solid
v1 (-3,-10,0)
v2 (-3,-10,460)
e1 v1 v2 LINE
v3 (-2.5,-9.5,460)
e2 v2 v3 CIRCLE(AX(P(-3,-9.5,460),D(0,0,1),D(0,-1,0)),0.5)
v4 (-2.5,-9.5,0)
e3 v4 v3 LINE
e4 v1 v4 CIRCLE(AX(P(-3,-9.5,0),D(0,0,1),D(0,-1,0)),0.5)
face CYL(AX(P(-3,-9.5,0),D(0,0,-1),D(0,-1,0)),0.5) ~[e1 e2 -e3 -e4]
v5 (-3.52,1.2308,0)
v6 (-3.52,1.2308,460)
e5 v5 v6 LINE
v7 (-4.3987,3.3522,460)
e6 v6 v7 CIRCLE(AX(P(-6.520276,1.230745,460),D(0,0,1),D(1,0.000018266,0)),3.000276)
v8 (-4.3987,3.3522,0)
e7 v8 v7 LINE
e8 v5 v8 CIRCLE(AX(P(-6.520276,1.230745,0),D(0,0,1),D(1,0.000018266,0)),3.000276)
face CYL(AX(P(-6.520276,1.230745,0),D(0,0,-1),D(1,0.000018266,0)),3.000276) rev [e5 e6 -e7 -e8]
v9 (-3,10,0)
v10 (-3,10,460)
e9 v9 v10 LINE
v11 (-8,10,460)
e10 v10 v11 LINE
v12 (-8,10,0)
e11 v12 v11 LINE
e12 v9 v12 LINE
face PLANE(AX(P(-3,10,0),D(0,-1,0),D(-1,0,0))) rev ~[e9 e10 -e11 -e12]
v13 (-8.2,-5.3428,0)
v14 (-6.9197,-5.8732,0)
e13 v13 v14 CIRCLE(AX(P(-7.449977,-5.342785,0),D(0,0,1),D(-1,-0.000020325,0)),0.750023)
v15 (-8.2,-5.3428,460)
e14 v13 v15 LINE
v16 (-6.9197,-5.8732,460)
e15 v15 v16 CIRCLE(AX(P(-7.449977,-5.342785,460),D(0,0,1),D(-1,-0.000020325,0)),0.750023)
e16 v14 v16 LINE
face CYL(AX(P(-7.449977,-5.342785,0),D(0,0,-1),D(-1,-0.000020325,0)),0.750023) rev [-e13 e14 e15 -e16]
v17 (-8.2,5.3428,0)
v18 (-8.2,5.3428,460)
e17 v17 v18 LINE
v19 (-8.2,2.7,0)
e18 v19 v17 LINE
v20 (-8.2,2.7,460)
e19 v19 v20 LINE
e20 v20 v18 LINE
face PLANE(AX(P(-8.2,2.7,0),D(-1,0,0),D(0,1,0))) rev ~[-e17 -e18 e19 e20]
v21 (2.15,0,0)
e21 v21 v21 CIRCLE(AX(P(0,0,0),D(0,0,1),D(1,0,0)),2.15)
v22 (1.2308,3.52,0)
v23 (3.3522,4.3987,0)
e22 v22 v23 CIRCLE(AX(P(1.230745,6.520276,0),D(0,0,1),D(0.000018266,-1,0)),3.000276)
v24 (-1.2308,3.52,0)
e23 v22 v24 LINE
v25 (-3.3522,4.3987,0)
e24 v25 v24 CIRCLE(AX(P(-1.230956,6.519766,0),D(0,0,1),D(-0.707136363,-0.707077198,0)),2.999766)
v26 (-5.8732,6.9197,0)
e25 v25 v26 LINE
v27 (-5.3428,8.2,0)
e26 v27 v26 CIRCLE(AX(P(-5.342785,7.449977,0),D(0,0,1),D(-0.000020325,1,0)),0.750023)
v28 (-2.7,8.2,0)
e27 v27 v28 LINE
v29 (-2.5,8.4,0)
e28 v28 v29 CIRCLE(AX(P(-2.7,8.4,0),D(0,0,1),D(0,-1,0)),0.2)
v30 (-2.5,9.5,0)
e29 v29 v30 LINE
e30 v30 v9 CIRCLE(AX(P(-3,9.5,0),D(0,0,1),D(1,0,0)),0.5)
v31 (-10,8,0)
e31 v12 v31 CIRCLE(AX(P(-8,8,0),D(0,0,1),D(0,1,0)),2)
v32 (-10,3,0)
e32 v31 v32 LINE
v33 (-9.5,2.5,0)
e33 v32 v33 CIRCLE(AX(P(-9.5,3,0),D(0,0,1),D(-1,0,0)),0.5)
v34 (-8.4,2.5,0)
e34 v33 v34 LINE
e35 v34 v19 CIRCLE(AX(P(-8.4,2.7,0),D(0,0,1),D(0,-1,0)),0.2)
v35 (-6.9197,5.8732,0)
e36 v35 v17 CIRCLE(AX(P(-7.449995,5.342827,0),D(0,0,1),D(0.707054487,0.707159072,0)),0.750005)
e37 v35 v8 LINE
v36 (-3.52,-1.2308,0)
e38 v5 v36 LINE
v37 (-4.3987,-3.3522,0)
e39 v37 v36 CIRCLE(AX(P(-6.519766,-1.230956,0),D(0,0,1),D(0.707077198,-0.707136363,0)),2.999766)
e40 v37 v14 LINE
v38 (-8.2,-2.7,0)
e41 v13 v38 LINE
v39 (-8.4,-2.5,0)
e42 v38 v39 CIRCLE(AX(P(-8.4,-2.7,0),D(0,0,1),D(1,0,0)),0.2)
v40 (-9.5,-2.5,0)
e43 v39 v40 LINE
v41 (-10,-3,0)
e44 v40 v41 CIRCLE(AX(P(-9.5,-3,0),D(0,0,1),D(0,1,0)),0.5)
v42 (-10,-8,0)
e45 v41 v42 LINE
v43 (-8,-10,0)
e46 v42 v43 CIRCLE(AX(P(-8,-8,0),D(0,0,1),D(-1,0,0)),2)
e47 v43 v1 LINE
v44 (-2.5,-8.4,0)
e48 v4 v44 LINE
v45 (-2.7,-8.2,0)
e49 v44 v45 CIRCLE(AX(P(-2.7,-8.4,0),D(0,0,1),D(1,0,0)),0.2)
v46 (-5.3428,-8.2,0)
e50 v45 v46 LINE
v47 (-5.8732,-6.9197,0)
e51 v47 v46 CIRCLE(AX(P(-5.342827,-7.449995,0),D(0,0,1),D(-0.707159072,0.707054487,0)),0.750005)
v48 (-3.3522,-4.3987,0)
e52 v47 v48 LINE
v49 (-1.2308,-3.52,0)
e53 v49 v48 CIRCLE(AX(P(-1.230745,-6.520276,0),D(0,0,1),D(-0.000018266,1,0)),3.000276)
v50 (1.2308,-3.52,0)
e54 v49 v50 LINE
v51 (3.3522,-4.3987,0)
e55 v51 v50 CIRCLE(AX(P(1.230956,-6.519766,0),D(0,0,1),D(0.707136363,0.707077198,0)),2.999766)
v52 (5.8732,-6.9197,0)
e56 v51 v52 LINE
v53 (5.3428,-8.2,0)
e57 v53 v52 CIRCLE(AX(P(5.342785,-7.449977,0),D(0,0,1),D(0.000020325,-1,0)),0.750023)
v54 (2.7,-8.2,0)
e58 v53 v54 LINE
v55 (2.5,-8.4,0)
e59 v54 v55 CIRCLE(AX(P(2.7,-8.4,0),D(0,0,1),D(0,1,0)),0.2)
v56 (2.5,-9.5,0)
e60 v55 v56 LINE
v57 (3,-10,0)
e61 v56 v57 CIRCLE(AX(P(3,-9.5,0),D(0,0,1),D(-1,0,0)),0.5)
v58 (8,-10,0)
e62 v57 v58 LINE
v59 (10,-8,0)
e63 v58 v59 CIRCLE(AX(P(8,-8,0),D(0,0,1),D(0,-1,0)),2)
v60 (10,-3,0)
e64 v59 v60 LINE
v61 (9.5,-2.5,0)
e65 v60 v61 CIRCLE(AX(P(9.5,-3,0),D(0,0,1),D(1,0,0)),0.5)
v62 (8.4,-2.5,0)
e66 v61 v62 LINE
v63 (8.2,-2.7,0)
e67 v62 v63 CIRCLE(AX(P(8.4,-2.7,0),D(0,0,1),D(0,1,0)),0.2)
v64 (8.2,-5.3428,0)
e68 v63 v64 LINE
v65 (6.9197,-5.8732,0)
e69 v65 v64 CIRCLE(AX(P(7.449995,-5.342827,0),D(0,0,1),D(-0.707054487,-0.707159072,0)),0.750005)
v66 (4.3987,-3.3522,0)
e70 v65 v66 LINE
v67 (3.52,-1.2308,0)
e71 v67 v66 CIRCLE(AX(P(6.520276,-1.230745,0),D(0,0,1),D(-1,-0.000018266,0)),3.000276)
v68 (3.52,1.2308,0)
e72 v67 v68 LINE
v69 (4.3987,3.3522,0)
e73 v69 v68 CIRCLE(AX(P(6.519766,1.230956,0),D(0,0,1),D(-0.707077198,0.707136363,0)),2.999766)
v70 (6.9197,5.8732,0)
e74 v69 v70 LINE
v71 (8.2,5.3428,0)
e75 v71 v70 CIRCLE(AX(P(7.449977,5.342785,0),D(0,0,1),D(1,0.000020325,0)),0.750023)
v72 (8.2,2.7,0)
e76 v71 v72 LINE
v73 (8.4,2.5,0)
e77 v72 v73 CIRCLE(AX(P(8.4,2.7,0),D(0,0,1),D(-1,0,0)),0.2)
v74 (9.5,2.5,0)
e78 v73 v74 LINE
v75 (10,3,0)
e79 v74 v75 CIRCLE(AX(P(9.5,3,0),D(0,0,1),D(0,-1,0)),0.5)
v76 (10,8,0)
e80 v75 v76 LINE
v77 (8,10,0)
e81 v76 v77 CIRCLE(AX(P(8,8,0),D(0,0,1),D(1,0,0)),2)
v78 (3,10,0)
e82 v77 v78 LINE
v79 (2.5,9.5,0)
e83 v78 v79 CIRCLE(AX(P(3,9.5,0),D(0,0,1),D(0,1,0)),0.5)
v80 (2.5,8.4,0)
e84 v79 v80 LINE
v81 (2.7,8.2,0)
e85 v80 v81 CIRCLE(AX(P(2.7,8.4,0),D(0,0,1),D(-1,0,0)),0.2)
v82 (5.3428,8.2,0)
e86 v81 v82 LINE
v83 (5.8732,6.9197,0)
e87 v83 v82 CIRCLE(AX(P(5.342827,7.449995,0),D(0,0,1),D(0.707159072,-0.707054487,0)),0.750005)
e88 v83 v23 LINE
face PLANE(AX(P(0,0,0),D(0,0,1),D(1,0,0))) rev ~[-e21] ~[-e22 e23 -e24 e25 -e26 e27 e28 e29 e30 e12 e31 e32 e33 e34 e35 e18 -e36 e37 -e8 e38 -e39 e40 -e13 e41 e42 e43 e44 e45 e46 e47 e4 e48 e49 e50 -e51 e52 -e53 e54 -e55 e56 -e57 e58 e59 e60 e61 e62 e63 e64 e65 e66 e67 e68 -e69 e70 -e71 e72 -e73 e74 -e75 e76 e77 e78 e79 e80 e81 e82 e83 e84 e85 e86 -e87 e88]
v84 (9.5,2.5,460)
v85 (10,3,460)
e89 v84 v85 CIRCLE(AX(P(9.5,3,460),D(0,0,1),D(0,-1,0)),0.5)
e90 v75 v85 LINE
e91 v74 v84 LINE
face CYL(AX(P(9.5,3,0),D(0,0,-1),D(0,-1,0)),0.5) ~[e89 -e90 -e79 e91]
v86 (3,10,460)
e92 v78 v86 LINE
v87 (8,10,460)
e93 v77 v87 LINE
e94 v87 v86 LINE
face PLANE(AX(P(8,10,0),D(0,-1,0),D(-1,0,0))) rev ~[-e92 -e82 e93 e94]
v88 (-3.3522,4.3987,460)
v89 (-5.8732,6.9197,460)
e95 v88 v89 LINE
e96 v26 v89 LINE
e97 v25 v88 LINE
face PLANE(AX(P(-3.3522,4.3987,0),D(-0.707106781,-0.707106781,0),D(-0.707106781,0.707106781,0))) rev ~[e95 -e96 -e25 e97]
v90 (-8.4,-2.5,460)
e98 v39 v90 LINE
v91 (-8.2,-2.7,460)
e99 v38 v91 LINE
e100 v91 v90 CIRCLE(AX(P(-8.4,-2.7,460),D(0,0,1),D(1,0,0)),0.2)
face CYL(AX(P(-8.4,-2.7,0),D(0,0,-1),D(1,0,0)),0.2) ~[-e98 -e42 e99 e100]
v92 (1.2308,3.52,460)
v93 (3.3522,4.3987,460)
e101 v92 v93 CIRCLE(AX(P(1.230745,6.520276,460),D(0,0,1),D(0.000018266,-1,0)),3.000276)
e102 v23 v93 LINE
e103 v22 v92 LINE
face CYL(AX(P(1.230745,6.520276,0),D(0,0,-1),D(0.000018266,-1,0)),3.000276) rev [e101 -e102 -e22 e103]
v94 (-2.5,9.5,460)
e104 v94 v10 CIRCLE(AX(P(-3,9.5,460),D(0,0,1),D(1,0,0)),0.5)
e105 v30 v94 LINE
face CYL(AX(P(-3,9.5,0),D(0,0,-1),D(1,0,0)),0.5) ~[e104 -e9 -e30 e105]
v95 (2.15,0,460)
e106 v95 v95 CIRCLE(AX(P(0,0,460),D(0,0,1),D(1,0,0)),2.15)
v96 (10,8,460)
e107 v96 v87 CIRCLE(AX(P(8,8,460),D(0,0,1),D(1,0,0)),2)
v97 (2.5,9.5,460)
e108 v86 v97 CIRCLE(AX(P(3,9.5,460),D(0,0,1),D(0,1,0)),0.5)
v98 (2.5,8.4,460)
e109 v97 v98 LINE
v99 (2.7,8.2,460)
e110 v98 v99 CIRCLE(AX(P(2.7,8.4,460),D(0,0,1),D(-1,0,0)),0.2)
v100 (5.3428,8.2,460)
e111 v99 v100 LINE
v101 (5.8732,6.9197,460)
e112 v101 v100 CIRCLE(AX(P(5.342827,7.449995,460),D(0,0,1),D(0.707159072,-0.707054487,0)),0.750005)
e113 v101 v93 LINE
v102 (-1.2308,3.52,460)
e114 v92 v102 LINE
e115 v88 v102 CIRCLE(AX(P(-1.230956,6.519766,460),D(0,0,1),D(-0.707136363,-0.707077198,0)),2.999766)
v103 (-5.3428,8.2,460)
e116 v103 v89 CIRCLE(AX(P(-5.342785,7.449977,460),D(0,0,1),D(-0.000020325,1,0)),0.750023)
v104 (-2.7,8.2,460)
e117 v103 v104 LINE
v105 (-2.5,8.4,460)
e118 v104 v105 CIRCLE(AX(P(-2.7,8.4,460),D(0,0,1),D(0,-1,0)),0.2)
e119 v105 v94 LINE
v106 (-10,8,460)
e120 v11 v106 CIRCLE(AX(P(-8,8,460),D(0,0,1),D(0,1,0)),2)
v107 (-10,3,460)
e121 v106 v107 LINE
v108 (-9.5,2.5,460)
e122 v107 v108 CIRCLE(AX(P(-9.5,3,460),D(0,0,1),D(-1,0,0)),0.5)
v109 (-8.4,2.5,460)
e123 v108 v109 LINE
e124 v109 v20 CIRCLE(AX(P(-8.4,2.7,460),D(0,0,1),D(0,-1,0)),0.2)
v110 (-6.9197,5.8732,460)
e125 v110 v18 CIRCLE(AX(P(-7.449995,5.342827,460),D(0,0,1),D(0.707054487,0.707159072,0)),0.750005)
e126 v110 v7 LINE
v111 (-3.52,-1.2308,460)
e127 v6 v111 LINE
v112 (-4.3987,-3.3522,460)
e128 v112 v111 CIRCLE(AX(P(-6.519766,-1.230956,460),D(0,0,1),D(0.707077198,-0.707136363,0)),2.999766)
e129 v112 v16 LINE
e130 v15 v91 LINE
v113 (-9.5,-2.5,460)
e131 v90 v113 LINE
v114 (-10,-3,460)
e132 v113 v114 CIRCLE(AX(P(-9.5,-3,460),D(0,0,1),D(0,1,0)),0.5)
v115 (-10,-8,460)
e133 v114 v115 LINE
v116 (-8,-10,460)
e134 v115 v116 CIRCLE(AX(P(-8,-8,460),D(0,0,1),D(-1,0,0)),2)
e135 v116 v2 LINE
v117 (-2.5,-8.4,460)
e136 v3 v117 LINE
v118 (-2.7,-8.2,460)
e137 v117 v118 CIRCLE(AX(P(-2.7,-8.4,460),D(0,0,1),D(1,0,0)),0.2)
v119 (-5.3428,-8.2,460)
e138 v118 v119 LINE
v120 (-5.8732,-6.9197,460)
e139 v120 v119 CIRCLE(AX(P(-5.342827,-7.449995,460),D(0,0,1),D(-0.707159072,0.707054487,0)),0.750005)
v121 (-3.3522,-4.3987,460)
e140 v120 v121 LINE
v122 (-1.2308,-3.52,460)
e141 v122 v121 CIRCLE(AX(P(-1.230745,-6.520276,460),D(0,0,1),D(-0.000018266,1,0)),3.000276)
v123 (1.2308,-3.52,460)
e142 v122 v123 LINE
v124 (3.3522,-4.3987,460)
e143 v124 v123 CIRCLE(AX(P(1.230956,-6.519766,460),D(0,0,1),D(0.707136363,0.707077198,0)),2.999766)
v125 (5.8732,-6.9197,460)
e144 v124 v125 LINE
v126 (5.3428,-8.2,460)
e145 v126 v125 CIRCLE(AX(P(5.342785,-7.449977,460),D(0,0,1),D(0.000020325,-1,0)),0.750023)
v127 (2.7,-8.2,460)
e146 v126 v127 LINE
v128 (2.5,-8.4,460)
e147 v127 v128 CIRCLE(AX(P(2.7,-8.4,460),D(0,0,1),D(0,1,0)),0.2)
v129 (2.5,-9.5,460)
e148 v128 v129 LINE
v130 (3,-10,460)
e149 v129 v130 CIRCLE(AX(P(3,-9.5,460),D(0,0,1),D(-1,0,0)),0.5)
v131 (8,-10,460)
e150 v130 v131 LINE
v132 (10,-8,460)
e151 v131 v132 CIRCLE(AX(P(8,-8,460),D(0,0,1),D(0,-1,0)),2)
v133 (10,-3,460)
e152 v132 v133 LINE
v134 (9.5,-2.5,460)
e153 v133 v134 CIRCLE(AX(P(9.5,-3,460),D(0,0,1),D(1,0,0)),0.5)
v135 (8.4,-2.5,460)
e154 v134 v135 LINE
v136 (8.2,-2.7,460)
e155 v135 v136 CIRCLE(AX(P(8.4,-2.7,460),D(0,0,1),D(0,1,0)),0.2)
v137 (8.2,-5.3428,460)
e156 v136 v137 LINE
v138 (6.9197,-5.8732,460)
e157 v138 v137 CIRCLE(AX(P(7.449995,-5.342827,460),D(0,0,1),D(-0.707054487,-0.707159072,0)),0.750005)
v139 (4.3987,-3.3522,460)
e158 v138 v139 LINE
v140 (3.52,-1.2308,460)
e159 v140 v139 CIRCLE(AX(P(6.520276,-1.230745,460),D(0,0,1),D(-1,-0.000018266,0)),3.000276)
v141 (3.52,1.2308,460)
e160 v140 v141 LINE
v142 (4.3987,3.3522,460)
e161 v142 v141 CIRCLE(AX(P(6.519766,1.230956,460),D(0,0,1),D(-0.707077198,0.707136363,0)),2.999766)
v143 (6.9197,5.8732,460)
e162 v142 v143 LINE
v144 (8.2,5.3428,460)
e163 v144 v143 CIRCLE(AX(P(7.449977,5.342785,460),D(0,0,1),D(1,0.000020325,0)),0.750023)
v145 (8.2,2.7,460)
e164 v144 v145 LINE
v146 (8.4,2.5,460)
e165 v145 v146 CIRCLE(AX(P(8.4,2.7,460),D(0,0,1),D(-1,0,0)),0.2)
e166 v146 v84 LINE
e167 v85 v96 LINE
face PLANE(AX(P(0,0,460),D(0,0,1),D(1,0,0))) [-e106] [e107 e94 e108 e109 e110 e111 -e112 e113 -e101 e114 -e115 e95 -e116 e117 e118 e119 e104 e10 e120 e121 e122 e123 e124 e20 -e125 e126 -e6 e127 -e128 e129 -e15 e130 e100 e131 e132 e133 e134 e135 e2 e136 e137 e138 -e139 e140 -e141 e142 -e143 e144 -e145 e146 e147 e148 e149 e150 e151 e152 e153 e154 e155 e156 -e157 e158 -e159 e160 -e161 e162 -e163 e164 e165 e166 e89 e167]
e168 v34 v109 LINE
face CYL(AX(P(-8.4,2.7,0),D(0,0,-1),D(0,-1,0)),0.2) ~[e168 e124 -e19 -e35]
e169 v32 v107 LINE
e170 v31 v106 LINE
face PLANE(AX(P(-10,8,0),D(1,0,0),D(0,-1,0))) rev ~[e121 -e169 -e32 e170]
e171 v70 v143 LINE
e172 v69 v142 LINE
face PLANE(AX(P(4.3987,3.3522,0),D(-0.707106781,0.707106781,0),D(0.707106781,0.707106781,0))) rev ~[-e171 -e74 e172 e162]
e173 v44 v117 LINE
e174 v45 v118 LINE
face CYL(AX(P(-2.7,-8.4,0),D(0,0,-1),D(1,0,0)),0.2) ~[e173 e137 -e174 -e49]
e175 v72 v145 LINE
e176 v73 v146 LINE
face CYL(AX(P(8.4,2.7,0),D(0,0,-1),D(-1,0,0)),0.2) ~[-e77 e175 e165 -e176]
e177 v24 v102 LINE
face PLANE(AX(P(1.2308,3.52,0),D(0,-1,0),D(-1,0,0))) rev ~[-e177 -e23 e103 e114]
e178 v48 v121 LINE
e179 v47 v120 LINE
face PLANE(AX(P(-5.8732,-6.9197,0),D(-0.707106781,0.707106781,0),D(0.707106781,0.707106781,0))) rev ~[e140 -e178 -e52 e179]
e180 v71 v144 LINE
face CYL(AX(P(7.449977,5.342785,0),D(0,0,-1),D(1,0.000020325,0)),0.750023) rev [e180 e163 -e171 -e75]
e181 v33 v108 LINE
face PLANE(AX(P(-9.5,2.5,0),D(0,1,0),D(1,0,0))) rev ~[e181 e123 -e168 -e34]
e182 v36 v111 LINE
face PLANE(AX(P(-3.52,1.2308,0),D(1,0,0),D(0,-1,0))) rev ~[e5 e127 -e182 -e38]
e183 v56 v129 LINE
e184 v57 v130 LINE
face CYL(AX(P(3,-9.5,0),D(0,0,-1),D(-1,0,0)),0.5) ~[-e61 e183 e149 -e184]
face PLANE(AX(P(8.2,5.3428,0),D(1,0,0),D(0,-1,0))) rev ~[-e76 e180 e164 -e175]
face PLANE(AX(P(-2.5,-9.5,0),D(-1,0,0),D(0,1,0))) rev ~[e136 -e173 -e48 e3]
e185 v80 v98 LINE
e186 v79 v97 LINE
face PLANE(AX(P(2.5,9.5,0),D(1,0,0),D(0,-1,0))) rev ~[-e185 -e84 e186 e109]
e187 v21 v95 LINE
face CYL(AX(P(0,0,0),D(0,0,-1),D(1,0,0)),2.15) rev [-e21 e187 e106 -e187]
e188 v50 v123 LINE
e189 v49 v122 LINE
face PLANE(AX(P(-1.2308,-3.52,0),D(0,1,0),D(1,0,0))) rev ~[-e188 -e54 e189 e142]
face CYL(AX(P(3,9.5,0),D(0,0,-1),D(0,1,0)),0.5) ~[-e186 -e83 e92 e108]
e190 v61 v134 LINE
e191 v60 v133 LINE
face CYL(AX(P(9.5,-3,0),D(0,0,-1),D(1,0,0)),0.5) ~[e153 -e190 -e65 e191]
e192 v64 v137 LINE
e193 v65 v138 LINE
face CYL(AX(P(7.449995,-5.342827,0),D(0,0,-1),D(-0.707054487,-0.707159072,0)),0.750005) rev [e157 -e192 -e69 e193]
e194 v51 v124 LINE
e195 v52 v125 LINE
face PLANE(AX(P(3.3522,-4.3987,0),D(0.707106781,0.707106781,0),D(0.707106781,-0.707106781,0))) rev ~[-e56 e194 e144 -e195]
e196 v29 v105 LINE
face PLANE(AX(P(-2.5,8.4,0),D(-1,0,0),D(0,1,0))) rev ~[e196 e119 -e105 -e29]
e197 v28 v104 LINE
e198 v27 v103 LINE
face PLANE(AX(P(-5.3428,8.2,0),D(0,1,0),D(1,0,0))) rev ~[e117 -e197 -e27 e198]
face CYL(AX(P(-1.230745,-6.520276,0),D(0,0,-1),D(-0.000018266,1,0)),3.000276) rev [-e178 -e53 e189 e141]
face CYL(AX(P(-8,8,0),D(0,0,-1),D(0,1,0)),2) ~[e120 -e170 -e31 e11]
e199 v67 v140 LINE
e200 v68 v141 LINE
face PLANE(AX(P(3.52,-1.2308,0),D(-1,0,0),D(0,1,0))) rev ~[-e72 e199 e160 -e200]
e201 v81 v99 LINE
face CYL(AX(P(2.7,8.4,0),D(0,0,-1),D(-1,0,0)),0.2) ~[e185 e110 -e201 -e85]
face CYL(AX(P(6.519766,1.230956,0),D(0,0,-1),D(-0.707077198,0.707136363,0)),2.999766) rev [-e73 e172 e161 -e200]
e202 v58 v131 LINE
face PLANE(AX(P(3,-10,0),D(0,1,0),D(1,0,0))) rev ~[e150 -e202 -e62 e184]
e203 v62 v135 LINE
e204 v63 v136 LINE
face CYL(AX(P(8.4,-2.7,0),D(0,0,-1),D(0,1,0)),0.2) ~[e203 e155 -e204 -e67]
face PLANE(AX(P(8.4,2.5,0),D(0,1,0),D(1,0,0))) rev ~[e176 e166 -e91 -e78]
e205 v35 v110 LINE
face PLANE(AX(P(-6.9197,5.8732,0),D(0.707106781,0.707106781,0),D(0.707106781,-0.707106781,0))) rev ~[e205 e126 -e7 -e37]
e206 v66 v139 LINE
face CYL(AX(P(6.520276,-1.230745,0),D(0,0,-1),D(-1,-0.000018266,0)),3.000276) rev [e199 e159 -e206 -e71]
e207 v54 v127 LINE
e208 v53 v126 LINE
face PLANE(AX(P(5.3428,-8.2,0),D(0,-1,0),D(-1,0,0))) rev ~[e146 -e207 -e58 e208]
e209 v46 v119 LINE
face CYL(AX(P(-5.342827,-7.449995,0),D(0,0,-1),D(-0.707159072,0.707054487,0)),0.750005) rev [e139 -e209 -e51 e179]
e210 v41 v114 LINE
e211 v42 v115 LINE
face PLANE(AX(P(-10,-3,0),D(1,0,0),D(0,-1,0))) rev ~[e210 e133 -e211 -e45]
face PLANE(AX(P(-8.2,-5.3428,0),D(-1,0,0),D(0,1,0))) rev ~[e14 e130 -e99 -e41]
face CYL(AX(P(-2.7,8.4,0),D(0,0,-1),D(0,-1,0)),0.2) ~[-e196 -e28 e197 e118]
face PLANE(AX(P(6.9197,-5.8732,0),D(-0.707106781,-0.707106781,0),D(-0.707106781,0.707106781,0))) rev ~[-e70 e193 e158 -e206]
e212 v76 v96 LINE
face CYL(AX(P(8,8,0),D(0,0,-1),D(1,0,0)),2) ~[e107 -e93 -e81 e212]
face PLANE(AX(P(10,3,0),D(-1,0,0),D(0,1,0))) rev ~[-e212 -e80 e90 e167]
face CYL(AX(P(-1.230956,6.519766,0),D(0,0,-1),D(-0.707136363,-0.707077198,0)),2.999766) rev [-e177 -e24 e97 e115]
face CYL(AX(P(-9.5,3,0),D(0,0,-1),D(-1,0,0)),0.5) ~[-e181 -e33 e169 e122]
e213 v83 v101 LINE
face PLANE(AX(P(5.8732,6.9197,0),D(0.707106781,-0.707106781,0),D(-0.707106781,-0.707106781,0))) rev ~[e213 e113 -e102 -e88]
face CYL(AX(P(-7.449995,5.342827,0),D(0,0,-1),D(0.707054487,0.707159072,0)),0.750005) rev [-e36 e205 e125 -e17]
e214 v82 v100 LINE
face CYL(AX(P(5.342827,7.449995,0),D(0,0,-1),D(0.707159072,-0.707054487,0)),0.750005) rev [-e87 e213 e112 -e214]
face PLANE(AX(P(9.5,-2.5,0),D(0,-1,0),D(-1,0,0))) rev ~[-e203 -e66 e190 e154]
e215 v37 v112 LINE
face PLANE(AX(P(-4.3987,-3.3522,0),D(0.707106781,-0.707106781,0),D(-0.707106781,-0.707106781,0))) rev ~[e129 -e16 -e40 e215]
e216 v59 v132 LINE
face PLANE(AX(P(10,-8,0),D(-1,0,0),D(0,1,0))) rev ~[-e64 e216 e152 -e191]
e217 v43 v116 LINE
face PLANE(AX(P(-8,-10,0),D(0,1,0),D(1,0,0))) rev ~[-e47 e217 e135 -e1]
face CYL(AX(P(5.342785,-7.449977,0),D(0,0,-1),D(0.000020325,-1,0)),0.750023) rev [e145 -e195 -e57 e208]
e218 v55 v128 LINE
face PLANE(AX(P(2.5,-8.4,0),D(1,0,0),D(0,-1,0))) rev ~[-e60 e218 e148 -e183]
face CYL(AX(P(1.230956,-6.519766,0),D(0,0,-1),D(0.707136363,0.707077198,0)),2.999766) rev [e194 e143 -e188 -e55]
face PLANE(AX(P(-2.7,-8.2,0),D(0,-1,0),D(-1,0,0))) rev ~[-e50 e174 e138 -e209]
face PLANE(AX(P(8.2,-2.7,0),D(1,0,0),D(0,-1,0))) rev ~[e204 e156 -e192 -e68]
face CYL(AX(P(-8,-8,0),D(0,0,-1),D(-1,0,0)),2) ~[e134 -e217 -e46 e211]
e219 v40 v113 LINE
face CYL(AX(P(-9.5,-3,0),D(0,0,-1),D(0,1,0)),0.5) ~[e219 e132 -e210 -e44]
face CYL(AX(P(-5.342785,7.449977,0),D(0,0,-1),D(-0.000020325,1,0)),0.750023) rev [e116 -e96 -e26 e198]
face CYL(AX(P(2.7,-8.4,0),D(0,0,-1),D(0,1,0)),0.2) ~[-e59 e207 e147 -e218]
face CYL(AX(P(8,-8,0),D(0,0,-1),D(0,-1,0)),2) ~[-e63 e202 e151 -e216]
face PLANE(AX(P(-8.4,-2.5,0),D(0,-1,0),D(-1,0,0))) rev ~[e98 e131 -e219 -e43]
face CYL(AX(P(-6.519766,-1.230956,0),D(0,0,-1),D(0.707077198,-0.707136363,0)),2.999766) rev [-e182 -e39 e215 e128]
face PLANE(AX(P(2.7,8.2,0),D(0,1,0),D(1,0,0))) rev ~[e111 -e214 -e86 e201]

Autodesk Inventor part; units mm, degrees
ref_plane "YZ Plane" through (0, 0, 0) normal (1, 0, 0) x (0, 1, 0)
ref_plane "Płaszczyzna początkowa" through (0, 0, 0) normal (0, 0, 1) x (1, 0, 0)
ref_plane "Płaszczyzna końcowa" through (0, 0, 460) normal (0, 0, 1) x (1, 0, 0)
sketch "Szkic" plane through (0, 0, 0) normal (0, 0, 1) x (1, 0, 0)
  arc A0 (8, -10) -> (10, -8) centre (8, -8) ccw
  line L0 (10, -8) -> (10, -3)
  arc A1 (10, -3) -> (9.5, -2.5) centre (9.5, -3) ccw
  line L1 (9.5, -2.5) -> (8.4, -2.5)
  arc A2 (8.4, -2.5) -> (8.2, -2.7) centre (8.4, -2.7) ccw
  line L2 (8.2, -2.7) -> (8.2, -5.3428)
  arc A3 (6.9197, -5.8732) -> (8.2, -5.3428) centre (7.45, -5.3428) ccw
  line L3 (6.9197, -5.8732) -> (4.3987, -3.3522)
  arc A4 (3.52, -1.2308) -> (4.3987, -3.3522) centre (6.52, -1.2308) ccw
  line L4 (3.52, -1.2308) -> (3.52, 1.2308)
  arc A5 (4.3987, 3.3522) -> (3.52, 1.2308) centre (6.52, 1.2308) ccw
  line L5 (4.3987, 3.3522) -> (6.9197, 5.8732)
  arc A6 (8.2, 5.3428) -> (6.9197, 5.8732) centre (7.45, 5.3428) ccw
  line L6 (8.2, 5.3428) -> (8.2, 2.7)
  arc A7 (8.2, 2.7) -> (8.4, 2.5) centre (8.4, 2.7) ccw
  line L7 (8.4, 2.5) -> (9.5, 2.5)
  arc A8 (9.5, 2.5) -> (10, 3) centre (9.5, 3) ccw
  line L8 (10, 3) -> (10, 8)
  arc A9 (10, 8) -> (8, 10) centre (8, 8) ccw
  line L9 (8, 10) -> (3, 10)
  arc A10 (3, 10) -> (2.5, 9.5) centre (3, 9.5) ccw
  line L10 (2.5, 9.5) -> (2.5, 8.4)
  arc A11 (2.5, 8.4) -> (2.7, 8.2) centre (2.7, 8.4) ccw
  line L11 (2.7, 8.2) -> (5.3428, 8.2)
  arc A12 (5.8732, 6.9197) -> (5.3428, 8.2) centre (5.3428, 7.45) ccw
  line L12 (5.8732, 6.9197) -> (3.3522, 4.3987)
  arc A13 (1.2308, 3.52) -> (3.3522, 4.3987) centre (1.2308, 6.52) ccw
  line L13 (1.2308, 3.52) -> (-1.2308, 3.52)
  arc A14 (-3.3522, 4.3987) -> (-1.2308, 3.52) centre (-1.2308, 6.52) ccw
  line L14 (-3.3522, 4.3987) -> (-5.8732, 6.9197)
  arc A15 (-5.3428, 8.2) -> (-5.8732, 6.9197) centre (-5.3428, 7.45) ccw
  line L15 (-5.3428, 8.2) -> (-2.7, 8.2)
  arc A16 (-2.7, 8.2) -> (-2.5, 8.4) centre (-2.7, 8.4) ccw
  line L16 (-2.5, 8.4) -> (-2.5, 9.5)
  arc A17 (-2.5, 9.5) -> (-3, 10) centre (-3, 9.5) ccw
  line L17 (-3, 10) -> (-8, 10)
  arc A18 (-8, 10) -> (-10, 8) centre (-8, 8) ccw
  line L18 (-10, 8) -> (-10, 3)
  arc A19 (-10, 3) -> (-9.5, 2.5) centre (-9.5, 3) ccw
  line L19 (-9.5, 2.5) -> (-8.4, 2.5)
  arc A20 (-8.4, 2.5) -> (-8.2, 2.7) centre (-8.4, 2.7) ccw
  line L20 (-8.2, 2.7) -> (-8.2, 5.3428)
  arc A21 (-6.9197, 5.8732) -> (-8.2, 5.3428) centre (-7.45, 5.3428) ccw
  line L21 (-6.9197, 5.8732) -> (-4.3987, 3.3522)
  arc A22 (-3.52, 1.2308) -> (-4.3987, 3.3522) centre (-6.52, 1.2308) ccw
  line L22 (-3.52, 1.2308) -> (-3.52, -1.2308)
  arc A23 (-4.3987, -3.3522) -> (-3.52, -1.2308) centre (-6.52, -1.2308) ccw
  line L23 (-4.3987, -3.3522) -> (-6.9197, -5.8732)
  arc A24 (-8.2, -5.3428) -> (-6.9197, -5.8732) centre (-7.45, -5.3428) ccw
  line L24 (-8.2, -5.3428) -> (-8.2, -2.7)
  arc A25 (-8.2, -2.7) -> (-8.4, -2.5) centre (-8.4, -2.7) ccw
  line L25 (-8.4, -2.5) -> (-9.5, -2.5)
  arc A26 (-9.5, -2.5) -> (-10, -3) centre (-9.5, -3) ccw
  line L26 (-10, -3) -> (-10, -8)
  arc A27 (-10, -8) -> (-8, -10) centre (-8, -8) ccw
  line L27 (-8, -10) -> (-3, -10)
  arc A28 (-3, -10) -> (-2.5, -9.5) centre (-3, -9.5) ccw
  line L28 (-2.5, -9.5) -> (-2.5, -8.4)
  arc A29 (-2.5, -8.4) -> (-2.7, -8.2) centre (-2.7, -8.4) ccw
  line L29 (-2.7, -8.2) -> (-5.3428, -8.2)
  arc A30 (-5.8732, -6.9197) -> (-5.3428, -8.2) centre (-5.3428, -7.45) ccw
  line L30 (-5.8732, -6.9197) -> (-3.3522, -4.3987)
  arc A31 (-1.2308, -3.52) -> (-3.3522, -4.3987) centre (-1.2308, -6.52) ccw
  line L31 (-1.2308, -3.52) -> (1.2308, -3.52)
  arc A32 (3.3522, -4.3987) -> (1.2308, -3.52) centre (1.2308, -6.52) ccw
  line L32 (3.3522, -4.3987) -> (5.8732, -6.9197)
  arc A33 (5.3428, -8.2) -> (5.8732, -6.9197) centre (5.3428, -7.45) ccw
  line L33 (5.3428, -8.2) -> (2.7, -8.2)
  arc A34 (2.7, -8.2) -> (2.5, -8.4) centre (2.7, -8.4) ccw
  line L34 (2.5, -8.4) -> (2.5, -9.5)
  arc A35 (2.5, -9.5) -> (3, -10) centre (3, -9.5) ccw
  line L35 (3, -10) -> (8, -10)
  circle A36 centre (0, 0) radius 2.15
  point P0 (10, -10)
extrude "Bryła" add sketch "Szkic" along normal up to surface (460 mm away) from surface at 0
sketch "Szkic4" plane through (0, 0, 0) normal (0, 0, 1) x (1, 0, 0)
  line L0 (0, 0) -> (10, 0)
ref_plane "Płaszczyzna konstrukcyjna4" through (0, 0, 0) normal (0, -1, 0) x (1, 0, 0)
sketch "Szkic5" plane through (0, 0, 0) normal (0, -1, 0) x (1, 0, 0)
  line L0 (-2, 0) -> (12, 0)
  line L1 (-2, 460) -> (12, 460)
  dimension "d7" = 460
equation "\"G_OFFSET_START\" = 0"
equation "\"G_OFFSET_END\" = 0"
equation "\"G_L\" = d7"
properties part number "COTS_ARMA_AR3701_20x20_Alu_Extr_00000003" material "Aluminium 6061-AHC"
